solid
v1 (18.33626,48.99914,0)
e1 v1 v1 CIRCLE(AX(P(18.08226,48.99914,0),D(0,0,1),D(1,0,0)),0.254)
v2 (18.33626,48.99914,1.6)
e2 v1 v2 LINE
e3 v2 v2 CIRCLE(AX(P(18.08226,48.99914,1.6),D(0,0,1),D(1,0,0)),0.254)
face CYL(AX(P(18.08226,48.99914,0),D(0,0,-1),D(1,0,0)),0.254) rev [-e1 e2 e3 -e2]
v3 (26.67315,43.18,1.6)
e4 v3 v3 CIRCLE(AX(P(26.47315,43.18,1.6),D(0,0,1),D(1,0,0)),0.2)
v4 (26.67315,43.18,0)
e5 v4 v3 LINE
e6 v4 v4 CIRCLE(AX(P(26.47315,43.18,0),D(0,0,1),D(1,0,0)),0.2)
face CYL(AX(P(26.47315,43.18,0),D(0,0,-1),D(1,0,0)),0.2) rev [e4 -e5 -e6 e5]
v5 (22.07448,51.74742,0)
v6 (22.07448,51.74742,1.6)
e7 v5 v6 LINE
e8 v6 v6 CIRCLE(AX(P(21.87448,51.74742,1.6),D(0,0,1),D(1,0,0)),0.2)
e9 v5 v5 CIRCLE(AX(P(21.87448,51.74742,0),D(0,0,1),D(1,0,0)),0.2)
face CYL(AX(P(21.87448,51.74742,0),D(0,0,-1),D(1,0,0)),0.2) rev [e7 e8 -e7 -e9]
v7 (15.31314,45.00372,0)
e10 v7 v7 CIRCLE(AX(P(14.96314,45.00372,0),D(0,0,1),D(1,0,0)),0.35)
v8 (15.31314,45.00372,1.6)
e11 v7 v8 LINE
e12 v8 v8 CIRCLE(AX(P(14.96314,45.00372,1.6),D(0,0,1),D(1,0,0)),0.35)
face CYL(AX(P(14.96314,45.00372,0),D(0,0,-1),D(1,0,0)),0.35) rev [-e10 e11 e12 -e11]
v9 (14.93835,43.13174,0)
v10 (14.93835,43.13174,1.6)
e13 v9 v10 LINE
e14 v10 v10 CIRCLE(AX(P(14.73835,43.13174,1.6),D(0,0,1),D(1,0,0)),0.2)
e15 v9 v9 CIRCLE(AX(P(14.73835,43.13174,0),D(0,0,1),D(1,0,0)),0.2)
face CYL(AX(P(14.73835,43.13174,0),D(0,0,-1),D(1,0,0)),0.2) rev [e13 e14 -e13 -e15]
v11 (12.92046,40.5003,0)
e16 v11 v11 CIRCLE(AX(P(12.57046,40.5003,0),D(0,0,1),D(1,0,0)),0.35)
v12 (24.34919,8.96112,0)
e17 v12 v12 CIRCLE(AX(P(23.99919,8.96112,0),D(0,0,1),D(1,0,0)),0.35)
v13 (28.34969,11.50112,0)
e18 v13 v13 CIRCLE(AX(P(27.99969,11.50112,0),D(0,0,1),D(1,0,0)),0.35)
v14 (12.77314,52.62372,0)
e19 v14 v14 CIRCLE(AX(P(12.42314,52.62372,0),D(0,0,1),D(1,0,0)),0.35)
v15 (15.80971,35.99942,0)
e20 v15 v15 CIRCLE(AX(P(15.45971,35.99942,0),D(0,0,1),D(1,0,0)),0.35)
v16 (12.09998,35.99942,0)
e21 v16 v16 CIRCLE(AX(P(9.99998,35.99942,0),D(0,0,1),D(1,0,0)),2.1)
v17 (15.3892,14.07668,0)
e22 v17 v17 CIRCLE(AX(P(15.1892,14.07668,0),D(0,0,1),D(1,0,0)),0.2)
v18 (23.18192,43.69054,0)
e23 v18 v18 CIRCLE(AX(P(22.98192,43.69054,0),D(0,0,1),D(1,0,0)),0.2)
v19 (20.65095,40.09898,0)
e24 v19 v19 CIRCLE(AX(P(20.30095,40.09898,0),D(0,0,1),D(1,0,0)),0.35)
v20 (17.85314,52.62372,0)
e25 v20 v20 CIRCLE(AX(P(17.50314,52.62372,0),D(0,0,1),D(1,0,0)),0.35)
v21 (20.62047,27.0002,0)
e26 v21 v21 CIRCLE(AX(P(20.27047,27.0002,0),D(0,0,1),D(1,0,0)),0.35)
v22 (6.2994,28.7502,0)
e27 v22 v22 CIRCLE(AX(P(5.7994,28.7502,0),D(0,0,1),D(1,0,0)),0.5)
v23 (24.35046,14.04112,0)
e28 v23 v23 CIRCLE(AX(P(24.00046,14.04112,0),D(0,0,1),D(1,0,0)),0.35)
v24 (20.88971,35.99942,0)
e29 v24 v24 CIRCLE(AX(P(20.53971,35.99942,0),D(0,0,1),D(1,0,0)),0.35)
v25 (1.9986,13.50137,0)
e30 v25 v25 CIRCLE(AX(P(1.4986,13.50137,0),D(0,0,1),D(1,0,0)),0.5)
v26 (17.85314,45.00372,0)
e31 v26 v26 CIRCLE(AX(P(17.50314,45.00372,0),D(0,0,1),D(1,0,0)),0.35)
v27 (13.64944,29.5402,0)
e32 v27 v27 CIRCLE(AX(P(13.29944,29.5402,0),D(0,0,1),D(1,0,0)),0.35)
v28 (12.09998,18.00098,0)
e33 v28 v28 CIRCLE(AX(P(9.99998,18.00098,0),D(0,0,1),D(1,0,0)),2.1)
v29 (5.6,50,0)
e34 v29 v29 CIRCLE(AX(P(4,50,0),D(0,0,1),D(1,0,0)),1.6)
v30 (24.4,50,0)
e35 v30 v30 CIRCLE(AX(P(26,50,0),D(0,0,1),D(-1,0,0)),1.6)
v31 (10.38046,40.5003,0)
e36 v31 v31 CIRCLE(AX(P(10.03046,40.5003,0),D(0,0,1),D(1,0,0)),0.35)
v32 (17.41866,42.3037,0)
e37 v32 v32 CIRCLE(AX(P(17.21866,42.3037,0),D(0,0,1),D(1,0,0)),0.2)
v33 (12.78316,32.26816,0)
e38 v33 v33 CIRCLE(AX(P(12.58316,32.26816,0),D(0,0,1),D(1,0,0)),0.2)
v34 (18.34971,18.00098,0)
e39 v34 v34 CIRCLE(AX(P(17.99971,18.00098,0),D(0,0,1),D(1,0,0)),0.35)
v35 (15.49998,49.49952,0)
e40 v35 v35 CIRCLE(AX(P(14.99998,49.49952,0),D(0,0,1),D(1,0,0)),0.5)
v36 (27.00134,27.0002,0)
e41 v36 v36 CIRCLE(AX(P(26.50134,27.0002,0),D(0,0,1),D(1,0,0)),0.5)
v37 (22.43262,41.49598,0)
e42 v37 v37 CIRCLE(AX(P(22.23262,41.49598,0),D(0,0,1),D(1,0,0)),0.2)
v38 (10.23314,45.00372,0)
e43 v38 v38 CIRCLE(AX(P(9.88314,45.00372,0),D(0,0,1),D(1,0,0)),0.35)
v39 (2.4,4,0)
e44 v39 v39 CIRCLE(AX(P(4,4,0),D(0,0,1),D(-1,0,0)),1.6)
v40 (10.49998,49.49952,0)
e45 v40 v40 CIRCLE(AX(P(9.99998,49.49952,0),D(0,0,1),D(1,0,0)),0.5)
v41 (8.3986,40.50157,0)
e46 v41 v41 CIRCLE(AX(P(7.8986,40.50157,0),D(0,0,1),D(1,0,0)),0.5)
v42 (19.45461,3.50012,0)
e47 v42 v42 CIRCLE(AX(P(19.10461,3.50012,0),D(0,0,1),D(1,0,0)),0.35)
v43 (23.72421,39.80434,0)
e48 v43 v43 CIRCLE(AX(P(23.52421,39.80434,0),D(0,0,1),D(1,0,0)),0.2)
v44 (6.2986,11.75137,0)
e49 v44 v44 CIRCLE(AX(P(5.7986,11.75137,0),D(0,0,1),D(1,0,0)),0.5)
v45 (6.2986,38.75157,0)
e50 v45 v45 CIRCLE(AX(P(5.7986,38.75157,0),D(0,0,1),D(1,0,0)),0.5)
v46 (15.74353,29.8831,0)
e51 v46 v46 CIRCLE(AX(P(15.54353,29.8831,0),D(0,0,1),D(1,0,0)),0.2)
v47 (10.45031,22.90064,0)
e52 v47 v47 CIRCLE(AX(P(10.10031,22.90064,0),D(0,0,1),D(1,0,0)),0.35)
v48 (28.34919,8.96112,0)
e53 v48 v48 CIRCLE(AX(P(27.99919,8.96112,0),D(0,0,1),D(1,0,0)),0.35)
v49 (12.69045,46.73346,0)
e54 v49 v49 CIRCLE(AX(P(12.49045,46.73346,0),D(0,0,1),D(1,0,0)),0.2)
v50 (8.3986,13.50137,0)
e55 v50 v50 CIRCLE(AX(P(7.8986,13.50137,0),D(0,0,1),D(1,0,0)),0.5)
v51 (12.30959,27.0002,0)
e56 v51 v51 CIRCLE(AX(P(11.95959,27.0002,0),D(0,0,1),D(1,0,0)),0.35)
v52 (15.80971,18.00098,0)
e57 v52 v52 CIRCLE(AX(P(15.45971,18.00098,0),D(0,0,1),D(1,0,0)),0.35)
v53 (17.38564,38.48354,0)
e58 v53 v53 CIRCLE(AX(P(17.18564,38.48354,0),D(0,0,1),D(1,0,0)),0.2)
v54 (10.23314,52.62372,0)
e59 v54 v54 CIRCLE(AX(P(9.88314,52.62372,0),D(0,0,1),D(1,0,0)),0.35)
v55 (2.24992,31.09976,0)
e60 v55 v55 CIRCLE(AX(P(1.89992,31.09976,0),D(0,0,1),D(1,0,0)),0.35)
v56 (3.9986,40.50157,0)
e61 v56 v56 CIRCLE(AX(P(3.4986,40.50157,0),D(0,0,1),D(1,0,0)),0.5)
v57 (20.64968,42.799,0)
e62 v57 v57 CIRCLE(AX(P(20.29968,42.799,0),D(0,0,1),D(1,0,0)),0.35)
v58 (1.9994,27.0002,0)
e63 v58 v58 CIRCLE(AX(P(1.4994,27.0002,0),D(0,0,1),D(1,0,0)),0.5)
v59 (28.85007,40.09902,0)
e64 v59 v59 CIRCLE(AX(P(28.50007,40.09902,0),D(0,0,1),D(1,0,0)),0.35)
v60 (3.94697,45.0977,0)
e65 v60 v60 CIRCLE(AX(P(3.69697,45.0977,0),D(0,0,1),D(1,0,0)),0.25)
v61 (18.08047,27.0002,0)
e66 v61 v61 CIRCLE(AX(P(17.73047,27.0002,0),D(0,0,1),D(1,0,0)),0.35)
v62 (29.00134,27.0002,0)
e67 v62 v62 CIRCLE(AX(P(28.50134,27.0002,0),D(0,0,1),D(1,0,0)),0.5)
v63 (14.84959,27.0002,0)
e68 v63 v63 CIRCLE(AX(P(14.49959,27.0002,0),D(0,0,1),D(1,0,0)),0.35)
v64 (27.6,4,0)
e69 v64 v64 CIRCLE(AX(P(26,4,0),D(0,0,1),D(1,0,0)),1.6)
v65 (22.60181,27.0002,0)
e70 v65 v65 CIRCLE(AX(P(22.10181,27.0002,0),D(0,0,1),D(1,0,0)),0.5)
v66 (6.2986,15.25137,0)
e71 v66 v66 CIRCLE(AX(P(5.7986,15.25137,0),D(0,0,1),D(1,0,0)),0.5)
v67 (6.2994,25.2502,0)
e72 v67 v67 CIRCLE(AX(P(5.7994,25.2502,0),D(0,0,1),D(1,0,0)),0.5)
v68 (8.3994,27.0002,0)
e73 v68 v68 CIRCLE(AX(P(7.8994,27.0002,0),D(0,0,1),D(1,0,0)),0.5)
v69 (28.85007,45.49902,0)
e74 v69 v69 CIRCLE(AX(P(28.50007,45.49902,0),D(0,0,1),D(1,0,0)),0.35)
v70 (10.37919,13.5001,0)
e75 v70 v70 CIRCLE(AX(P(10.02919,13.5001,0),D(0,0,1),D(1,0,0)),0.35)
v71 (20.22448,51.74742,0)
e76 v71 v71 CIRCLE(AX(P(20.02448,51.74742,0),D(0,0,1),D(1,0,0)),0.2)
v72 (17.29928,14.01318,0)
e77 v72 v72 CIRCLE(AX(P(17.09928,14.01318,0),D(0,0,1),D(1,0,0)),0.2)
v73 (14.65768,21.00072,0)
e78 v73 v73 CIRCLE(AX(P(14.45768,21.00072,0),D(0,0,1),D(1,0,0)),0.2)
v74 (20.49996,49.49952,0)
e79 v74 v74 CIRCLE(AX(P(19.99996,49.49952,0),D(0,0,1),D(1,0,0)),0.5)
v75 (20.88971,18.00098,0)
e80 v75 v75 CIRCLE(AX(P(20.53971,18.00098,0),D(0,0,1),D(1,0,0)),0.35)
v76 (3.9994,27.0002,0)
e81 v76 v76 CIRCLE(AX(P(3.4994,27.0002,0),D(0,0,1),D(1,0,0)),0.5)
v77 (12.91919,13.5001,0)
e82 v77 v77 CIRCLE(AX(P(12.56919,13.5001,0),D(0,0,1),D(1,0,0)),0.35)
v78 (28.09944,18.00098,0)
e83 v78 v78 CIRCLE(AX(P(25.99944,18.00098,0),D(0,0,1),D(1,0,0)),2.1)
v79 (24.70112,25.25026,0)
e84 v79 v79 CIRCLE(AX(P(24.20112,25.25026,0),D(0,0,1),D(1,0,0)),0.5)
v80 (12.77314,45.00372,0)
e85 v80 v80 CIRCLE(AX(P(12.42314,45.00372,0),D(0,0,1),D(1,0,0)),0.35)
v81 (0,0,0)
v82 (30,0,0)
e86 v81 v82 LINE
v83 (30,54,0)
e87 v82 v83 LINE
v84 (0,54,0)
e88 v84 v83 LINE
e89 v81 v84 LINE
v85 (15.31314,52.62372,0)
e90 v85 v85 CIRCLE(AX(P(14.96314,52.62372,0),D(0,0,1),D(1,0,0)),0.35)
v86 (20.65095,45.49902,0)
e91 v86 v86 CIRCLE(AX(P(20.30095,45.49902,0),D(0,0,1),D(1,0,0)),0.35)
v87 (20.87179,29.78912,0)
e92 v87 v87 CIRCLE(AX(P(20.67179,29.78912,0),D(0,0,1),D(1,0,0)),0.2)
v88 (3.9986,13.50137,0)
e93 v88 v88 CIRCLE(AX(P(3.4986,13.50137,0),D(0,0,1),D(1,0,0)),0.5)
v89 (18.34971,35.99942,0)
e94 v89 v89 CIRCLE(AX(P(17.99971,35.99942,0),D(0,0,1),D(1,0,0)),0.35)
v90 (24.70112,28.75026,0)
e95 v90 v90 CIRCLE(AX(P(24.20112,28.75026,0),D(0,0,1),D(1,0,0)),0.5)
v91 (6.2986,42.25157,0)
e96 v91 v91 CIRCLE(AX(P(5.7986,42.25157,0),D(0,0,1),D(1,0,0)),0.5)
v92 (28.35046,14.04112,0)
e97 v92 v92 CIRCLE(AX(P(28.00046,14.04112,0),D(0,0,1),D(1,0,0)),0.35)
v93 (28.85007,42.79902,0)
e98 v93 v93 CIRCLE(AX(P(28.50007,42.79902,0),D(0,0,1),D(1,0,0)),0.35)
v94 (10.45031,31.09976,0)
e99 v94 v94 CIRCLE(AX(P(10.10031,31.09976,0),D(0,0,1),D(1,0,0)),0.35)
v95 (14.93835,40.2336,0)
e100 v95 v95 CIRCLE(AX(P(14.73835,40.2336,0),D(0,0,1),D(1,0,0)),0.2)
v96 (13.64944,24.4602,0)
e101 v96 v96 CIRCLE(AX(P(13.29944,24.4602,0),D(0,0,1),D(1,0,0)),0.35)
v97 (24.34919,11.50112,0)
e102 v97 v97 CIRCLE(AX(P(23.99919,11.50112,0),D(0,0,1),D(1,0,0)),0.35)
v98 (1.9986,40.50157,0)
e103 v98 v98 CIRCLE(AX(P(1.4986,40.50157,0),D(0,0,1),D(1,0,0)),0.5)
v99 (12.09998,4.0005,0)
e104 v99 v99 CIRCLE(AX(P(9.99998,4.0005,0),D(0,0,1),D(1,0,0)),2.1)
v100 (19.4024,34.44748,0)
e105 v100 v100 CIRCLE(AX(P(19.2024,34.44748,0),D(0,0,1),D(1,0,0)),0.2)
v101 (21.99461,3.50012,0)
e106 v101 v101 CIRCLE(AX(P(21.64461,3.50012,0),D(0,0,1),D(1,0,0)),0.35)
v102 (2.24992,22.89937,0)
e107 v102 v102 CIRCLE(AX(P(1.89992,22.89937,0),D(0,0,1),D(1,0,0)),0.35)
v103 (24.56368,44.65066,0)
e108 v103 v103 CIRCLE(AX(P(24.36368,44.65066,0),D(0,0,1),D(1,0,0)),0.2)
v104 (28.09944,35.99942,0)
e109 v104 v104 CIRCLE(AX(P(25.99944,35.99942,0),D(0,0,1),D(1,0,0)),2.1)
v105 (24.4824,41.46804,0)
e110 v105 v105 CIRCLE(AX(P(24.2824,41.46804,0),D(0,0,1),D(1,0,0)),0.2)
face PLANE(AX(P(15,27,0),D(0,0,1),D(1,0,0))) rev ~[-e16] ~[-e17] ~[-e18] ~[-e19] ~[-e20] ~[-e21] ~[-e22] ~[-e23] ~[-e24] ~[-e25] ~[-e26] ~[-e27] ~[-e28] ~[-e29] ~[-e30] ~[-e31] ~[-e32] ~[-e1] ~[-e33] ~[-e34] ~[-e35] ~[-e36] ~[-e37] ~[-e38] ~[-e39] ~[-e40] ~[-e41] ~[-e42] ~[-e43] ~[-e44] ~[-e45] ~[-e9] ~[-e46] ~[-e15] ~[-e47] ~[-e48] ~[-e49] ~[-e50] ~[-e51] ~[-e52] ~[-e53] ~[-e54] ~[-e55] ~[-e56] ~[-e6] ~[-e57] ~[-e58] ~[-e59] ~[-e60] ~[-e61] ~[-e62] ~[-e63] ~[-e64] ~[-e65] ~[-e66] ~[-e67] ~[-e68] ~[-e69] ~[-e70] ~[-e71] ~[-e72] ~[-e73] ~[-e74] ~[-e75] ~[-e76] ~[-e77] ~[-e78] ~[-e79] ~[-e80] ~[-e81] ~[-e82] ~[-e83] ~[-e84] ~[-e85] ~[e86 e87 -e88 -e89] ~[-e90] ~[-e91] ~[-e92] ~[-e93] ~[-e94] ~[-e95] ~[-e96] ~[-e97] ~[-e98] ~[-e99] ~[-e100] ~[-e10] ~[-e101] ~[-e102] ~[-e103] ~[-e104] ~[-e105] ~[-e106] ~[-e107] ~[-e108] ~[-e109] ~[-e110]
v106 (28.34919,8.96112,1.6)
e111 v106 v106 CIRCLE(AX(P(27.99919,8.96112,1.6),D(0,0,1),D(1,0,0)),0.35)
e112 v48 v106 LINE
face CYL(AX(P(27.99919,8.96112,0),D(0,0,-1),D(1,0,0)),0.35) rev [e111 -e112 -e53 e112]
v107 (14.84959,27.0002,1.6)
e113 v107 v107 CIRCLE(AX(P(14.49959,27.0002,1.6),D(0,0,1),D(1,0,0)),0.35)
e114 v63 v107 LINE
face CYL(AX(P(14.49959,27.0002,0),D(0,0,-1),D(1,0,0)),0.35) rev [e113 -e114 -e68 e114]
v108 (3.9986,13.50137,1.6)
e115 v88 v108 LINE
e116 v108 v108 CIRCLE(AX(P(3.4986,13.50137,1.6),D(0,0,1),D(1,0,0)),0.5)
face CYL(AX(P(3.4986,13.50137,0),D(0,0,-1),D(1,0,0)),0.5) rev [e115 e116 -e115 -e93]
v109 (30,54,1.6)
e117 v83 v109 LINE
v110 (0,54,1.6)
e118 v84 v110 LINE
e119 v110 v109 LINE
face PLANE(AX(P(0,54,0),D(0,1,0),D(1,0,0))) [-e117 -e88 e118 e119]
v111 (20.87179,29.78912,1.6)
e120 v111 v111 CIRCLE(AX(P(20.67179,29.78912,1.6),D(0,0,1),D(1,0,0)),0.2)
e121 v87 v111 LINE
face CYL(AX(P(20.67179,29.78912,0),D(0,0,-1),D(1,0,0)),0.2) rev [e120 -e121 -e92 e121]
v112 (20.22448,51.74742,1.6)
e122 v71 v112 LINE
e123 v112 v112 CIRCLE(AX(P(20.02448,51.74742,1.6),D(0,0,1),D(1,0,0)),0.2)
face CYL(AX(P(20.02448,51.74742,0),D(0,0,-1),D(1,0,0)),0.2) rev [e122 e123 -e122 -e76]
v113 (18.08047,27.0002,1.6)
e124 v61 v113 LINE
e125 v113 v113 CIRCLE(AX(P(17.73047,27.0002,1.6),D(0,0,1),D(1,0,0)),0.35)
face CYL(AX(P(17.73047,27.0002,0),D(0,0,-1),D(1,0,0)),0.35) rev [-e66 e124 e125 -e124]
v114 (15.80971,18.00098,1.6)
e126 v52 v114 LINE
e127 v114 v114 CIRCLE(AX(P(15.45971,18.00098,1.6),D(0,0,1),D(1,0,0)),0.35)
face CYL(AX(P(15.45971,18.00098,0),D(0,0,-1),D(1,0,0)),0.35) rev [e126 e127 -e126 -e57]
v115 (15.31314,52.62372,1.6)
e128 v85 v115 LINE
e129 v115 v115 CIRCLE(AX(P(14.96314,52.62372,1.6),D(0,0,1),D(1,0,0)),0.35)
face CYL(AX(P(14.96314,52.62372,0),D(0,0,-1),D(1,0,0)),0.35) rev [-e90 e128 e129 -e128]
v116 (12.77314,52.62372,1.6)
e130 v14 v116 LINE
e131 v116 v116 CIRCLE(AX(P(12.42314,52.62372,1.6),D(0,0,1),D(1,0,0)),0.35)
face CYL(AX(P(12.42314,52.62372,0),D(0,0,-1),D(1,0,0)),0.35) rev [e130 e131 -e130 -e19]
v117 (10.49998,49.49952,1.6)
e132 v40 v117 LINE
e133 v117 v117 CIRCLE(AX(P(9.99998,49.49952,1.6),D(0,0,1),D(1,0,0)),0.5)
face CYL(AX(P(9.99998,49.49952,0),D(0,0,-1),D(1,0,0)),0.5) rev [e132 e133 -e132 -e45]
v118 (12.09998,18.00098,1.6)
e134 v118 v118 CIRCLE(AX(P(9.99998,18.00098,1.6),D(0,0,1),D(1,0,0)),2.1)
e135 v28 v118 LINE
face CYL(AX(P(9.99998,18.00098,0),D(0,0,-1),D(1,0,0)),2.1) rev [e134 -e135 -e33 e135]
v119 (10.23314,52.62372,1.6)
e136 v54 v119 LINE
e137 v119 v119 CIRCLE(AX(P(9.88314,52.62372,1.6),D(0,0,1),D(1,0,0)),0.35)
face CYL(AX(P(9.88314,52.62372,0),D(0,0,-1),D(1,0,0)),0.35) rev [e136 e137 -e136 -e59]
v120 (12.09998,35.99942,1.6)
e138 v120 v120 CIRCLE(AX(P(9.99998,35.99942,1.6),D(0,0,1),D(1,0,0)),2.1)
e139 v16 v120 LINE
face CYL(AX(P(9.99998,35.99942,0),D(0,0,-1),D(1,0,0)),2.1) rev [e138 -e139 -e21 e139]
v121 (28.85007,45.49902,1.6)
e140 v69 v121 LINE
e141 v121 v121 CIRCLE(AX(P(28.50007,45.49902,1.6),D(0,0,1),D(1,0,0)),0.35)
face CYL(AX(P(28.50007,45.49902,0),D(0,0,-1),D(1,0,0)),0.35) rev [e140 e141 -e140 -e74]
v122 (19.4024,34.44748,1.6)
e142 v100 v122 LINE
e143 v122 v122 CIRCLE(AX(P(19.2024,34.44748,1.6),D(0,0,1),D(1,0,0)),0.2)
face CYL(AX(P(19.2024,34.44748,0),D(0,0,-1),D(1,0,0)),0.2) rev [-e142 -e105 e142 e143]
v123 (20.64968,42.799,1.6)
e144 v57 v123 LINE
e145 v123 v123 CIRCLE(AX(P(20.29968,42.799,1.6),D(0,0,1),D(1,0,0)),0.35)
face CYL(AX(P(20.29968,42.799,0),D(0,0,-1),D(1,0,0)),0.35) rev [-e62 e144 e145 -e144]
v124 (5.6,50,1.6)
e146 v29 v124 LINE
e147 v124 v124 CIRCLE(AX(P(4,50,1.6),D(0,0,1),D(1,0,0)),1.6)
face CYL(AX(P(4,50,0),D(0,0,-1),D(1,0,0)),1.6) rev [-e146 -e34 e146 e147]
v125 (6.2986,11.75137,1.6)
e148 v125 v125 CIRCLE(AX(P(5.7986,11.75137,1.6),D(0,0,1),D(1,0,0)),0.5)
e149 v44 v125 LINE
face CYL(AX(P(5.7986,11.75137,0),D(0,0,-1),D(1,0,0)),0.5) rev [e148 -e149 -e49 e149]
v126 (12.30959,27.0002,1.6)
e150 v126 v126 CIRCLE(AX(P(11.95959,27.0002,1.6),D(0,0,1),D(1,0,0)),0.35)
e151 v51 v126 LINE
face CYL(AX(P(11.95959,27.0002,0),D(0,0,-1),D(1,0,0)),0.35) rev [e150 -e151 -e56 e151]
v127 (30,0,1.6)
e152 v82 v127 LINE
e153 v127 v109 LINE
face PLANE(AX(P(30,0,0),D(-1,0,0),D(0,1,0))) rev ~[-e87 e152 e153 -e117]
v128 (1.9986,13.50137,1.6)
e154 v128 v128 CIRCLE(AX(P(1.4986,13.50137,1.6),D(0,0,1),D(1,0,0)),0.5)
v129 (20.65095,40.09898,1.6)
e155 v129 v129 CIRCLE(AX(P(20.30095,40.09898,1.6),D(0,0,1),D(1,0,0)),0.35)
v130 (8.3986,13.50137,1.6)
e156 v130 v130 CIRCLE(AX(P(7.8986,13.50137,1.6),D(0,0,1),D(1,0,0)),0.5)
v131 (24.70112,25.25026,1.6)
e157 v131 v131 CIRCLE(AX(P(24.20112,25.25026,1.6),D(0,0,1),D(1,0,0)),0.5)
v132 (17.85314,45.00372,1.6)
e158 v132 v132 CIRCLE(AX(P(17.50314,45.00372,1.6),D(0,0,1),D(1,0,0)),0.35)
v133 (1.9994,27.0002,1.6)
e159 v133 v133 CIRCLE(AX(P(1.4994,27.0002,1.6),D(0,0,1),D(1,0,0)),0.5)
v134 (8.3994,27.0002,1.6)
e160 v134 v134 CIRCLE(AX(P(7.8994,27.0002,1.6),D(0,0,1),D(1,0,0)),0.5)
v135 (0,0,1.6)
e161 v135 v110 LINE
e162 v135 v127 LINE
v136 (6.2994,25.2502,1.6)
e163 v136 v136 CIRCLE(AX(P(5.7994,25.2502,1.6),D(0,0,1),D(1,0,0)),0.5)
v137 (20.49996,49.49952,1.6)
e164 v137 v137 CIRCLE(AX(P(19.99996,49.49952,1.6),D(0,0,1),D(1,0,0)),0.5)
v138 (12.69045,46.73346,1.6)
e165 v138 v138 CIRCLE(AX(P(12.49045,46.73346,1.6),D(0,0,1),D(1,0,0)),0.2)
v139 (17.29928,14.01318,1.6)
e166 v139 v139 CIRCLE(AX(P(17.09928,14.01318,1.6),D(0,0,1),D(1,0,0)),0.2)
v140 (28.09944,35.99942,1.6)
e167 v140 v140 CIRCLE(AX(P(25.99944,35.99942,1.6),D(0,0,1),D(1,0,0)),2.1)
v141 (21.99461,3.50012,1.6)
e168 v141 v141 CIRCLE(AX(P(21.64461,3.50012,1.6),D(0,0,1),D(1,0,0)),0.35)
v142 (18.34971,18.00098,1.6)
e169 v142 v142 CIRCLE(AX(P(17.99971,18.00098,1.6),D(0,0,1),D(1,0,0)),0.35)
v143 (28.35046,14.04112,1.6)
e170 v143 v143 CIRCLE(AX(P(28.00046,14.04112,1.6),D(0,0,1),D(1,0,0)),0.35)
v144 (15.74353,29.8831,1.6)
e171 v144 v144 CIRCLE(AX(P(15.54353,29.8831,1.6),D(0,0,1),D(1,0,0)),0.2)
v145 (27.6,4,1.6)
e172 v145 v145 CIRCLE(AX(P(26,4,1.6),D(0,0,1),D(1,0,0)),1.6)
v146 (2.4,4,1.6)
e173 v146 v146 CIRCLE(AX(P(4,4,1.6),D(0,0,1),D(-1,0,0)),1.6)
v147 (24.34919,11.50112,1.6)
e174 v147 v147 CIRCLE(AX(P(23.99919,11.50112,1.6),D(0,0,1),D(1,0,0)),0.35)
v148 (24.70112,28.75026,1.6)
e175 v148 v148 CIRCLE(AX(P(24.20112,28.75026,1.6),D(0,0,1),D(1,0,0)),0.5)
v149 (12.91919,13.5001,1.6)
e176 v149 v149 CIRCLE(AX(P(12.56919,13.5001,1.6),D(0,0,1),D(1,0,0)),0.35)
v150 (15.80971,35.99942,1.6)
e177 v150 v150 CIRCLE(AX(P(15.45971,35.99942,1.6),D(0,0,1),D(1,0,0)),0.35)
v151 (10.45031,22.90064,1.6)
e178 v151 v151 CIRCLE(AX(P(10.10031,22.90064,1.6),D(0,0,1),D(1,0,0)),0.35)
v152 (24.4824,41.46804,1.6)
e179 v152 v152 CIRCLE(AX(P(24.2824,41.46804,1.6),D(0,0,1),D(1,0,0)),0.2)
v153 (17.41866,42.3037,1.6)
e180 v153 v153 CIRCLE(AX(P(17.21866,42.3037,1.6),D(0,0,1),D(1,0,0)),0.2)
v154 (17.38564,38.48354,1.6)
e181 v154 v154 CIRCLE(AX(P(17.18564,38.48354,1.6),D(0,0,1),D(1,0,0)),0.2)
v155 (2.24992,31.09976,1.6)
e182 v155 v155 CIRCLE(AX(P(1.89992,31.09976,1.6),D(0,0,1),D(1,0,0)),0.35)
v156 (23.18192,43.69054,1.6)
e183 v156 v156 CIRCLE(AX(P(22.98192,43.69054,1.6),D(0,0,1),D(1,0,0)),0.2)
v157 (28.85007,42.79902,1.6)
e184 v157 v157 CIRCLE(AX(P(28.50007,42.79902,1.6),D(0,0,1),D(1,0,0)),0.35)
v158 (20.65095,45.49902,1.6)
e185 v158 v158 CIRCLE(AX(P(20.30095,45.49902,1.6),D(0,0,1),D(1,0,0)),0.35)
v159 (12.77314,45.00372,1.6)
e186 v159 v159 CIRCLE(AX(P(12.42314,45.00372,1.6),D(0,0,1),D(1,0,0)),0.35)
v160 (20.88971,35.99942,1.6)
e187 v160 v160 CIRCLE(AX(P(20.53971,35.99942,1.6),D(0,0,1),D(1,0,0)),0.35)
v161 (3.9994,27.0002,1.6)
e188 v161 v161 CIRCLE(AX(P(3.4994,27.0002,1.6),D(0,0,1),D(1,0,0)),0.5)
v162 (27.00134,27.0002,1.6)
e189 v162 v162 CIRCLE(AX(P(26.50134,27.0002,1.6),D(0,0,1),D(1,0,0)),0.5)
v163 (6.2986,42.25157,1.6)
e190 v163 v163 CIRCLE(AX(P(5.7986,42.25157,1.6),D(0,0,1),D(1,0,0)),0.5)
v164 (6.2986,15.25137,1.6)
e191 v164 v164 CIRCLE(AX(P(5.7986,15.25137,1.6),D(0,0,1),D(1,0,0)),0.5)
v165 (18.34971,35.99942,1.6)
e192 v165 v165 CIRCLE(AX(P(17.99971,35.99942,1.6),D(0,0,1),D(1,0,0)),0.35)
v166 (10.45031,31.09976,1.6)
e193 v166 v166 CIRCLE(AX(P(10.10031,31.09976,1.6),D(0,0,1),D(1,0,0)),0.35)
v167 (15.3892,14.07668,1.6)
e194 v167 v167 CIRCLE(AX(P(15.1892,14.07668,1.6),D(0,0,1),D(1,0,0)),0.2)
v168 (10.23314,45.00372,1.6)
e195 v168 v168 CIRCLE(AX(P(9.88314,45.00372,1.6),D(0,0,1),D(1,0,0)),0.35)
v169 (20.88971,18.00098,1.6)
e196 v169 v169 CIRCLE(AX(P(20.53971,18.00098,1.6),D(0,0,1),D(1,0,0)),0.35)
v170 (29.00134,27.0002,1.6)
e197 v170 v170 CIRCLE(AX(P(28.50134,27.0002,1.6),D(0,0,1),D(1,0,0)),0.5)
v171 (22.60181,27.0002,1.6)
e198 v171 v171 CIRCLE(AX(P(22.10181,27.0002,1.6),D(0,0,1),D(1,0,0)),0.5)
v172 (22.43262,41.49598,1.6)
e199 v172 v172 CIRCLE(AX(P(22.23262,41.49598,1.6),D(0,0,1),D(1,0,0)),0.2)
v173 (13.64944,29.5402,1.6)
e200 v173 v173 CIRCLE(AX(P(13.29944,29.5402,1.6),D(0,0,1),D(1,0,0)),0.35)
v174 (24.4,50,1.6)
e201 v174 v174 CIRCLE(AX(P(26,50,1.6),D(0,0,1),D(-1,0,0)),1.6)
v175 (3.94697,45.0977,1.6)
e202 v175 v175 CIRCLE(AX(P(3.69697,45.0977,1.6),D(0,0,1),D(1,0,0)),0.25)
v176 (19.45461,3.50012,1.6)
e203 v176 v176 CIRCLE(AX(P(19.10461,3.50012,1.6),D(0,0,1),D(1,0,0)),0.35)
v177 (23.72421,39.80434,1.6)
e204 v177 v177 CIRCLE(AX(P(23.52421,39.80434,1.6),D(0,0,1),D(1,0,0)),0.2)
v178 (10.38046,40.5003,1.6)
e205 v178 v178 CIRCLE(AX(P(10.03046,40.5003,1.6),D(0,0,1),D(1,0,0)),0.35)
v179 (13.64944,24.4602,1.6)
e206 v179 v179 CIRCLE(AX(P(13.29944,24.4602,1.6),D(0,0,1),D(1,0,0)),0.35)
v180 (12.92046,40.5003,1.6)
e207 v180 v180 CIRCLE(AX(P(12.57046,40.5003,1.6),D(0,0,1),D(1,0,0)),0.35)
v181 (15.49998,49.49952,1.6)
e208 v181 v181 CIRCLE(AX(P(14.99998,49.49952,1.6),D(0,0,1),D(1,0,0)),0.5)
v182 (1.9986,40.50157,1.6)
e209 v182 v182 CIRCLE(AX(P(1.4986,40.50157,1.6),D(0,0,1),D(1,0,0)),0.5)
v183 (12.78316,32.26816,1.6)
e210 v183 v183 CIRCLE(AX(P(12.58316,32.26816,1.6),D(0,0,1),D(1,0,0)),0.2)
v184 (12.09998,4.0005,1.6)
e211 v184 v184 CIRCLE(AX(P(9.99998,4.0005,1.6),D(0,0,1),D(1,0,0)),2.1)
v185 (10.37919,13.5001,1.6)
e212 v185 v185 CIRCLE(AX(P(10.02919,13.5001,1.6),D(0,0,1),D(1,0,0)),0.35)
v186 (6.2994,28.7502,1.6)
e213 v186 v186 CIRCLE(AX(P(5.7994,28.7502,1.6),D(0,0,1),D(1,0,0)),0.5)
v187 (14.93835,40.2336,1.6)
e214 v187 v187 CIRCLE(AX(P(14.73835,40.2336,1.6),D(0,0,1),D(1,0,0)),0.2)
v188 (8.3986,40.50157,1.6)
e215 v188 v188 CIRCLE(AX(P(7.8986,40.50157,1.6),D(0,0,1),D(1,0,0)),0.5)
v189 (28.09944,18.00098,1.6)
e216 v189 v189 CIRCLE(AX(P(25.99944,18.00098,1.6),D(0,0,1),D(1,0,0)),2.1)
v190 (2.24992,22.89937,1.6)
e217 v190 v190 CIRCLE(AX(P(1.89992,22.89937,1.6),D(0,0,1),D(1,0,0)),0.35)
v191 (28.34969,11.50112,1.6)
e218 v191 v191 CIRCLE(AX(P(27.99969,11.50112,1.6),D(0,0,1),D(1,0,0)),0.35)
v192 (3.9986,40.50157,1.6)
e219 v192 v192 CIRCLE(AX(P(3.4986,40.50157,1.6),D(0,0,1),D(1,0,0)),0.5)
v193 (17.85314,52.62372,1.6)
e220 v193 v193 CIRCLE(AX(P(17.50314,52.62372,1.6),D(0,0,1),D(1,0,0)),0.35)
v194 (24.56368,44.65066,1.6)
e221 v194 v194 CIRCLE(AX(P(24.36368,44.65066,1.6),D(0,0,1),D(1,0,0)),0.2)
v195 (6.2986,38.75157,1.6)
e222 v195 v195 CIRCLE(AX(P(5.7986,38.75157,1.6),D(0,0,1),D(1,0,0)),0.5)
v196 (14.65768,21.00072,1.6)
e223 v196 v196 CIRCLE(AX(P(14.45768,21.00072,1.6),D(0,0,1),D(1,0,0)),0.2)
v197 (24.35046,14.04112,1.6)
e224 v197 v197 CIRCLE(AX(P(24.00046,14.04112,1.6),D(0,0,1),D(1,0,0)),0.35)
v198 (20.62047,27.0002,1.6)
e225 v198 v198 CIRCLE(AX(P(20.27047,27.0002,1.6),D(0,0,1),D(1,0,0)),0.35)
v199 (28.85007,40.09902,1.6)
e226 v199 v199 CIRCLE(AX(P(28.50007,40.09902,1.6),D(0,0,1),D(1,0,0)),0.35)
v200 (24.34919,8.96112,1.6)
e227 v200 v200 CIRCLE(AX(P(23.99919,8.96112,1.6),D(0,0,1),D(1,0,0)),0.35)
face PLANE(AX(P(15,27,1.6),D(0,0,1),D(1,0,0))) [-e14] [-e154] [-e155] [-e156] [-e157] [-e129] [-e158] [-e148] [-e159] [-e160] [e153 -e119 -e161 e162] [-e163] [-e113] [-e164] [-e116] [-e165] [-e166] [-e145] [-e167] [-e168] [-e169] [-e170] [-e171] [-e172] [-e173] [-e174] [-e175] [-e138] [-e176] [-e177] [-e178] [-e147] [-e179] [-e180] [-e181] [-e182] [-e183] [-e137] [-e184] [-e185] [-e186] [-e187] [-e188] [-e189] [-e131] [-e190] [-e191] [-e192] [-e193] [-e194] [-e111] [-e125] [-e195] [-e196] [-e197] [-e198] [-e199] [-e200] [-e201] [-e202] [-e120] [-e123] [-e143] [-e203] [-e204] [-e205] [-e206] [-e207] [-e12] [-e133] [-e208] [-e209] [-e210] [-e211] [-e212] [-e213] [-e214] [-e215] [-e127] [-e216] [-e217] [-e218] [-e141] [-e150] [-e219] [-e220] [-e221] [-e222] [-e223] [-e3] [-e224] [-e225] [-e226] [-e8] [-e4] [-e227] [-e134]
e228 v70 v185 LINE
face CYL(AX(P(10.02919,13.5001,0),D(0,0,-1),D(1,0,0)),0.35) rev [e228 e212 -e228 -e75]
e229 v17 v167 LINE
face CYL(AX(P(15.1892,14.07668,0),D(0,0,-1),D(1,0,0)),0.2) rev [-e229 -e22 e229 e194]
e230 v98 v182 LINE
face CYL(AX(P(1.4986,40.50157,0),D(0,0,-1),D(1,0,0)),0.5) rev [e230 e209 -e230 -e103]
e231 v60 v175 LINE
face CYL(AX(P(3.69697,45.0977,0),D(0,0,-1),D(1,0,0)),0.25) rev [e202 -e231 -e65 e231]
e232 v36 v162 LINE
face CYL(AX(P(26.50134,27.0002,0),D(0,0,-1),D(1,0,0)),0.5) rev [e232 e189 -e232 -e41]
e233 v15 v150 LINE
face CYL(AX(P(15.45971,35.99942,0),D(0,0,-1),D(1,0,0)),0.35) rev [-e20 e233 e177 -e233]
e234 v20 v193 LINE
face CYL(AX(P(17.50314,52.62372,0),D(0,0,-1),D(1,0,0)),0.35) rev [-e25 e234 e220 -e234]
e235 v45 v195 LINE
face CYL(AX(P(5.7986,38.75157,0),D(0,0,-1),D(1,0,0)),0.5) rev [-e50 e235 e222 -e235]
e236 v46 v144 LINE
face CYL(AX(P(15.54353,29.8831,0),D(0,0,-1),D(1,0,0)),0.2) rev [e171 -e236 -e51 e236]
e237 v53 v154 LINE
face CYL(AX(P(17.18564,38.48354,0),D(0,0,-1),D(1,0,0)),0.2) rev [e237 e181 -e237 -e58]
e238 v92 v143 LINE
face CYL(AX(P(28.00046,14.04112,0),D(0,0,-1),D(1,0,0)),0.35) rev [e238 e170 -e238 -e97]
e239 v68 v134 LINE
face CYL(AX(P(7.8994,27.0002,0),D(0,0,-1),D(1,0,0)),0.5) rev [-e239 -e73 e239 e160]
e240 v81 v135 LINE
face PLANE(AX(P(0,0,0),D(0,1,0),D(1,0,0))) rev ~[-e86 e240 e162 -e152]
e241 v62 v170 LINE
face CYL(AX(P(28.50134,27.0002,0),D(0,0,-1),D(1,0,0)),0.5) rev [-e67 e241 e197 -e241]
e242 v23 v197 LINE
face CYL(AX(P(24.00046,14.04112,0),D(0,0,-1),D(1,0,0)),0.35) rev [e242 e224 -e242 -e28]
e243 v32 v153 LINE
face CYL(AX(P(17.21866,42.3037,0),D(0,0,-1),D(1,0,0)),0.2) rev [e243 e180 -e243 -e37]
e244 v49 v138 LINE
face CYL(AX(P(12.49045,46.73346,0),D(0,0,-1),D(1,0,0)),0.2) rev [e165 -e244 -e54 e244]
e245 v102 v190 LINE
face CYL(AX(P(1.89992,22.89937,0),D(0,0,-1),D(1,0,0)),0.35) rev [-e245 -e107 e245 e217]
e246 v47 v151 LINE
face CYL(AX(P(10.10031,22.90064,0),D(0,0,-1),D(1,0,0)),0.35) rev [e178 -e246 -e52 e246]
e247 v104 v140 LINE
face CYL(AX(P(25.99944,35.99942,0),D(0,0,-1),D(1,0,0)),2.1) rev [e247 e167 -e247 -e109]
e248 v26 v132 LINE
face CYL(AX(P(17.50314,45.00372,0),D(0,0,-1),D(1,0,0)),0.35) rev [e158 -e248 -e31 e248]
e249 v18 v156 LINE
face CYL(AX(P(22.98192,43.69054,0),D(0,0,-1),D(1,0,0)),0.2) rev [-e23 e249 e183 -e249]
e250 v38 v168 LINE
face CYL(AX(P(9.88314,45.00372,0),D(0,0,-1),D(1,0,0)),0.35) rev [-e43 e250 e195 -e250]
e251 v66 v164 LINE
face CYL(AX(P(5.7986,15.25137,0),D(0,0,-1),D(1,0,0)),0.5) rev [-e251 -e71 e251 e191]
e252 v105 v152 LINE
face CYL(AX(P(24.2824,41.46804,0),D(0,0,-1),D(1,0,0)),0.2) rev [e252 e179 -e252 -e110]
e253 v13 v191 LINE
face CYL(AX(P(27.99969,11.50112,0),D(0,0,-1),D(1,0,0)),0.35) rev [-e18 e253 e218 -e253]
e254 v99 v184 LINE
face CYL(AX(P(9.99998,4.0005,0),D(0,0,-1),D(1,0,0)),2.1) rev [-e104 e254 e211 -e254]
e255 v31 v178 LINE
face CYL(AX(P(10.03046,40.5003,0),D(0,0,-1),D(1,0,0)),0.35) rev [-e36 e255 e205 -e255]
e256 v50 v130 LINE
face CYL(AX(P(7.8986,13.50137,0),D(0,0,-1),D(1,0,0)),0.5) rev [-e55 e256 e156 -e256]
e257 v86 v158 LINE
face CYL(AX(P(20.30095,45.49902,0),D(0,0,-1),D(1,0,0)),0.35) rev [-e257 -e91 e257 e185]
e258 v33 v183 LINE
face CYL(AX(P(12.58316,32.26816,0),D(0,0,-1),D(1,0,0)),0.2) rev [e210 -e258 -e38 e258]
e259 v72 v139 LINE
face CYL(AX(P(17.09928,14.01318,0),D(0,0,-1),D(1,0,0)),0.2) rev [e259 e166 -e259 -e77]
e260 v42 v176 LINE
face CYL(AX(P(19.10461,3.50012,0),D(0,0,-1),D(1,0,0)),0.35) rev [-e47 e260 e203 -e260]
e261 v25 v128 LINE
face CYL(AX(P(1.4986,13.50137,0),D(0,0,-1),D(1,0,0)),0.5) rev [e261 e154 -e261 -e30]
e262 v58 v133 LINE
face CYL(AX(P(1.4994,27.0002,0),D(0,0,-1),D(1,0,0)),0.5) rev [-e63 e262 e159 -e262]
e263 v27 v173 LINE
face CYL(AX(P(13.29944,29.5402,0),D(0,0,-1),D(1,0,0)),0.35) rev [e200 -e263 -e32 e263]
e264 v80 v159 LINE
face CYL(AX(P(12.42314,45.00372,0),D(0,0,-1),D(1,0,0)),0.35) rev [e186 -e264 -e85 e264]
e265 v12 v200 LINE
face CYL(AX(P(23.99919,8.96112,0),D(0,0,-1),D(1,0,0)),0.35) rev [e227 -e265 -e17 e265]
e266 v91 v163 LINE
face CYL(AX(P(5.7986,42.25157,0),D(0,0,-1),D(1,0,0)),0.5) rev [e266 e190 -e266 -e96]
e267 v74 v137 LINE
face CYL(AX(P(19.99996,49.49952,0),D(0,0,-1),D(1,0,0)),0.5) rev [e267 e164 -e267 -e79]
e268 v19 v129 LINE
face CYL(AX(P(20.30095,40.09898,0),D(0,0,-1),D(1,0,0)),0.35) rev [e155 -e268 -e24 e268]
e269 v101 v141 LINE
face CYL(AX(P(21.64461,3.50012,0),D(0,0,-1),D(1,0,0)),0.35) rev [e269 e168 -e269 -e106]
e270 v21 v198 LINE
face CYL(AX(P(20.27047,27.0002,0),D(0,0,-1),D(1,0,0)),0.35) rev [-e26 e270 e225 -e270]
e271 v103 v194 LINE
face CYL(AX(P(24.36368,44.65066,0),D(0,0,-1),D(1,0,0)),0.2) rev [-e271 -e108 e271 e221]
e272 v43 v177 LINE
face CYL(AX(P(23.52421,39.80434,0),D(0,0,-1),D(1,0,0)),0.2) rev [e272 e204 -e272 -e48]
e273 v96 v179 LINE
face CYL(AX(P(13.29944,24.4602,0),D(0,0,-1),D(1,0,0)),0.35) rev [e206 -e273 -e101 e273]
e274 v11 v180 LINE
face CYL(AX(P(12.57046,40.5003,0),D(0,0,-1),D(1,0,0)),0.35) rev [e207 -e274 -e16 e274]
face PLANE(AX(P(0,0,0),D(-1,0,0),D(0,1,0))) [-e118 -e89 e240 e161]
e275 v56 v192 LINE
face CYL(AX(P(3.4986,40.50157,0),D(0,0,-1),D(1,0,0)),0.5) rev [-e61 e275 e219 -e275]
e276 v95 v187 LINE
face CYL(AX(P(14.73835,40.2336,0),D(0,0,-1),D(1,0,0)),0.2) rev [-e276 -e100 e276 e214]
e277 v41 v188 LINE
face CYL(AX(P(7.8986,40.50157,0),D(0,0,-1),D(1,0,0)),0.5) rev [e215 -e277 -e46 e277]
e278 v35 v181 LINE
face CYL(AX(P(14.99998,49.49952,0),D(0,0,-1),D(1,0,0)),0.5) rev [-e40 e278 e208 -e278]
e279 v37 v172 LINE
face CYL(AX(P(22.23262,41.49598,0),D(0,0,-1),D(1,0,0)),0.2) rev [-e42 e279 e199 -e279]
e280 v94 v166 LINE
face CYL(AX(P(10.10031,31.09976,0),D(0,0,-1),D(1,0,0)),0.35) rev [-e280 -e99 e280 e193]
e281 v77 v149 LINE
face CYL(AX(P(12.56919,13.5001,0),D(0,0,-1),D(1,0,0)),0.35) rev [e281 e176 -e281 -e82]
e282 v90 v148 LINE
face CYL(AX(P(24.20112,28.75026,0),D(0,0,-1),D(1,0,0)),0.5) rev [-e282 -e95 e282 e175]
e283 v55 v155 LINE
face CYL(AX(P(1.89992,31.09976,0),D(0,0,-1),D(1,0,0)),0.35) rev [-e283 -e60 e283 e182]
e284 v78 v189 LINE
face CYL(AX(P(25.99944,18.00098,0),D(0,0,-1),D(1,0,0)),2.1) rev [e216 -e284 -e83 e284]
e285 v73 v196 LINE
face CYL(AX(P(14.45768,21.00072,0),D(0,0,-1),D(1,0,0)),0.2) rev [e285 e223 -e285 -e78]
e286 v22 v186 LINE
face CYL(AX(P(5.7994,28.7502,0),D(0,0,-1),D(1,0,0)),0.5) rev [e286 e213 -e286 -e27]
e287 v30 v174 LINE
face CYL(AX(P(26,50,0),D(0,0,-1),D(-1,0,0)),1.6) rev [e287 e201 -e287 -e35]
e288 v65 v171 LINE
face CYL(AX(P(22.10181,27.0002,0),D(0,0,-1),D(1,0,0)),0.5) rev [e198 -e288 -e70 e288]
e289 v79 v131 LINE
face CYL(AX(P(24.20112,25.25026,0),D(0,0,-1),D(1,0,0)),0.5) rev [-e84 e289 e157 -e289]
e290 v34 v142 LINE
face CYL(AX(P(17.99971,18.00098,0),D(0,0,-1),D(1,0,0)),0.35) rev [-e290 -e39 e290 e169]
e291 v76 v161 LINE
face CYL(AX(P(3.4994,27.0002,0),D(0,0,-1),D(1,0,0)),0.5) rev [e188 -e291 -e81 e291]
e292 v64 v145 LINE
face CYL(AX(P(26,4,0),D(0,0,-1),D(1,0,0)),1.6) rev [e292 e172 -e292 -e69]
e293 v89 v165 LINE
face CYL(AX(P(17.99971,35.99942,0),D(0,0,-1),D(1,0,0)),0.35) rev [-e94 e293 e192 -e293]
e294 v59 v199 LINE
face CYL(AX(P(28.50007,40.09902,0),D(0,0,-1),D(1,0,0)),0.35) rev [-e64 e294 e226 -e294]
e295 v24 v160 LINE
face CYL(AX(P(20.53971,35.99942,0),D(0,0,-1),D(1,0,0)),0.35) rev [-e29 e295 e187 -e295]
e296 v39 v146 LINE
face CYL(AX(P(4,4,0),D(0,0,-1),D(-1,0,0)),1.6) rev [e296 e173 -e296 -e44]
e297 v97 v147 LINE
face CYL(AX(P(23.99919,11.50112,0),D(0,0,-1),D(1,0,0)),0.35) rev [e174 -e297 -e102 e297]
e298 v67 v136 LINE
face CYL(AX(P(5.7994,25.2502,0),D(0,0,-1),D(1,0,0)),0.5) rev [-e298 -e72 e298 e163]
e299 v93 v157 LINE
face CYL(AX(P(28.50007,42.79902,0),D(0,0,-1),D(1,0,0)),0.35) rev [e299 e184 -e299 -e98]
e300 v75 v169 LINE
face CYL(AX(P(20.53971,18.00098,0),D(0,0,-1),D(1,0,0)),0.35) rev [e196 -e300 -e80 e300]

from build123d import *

# Parameters (mm, degrees)
MODEL_W            = 30
MODEL_H            = 54
MODEL_R            = 2.1
MODEL_R_2          = 0.35
MODEL_R_3          = 0.2
MODEL_R_4          = 0.5
MODEL_R_5          = 0.25
MODEL_R_6          = 0.254
MODEL_R_7          = 1.6
BOSS_EXTRU_1_DEPTH = 1.6


with BuildPart() as part:
    # Model → Boss.-Extru.1 (new body)
    with BuildSketch(Plane.XY):
        with Locations((15, 27)):
            Rectangle(MODEL_W, MODEL_H)
        with Locations((9.99998, 4.0005)):
            Circle(MODEL_R, mode=Mode.SUBTRACT)
        with Locations((9.99998, 18.00098)):
            Circle(MODEL_R, mode=Mode.SUBTRACT)
        with Locations((25.99944, 18.00098)):
            Circle(MODEL_R, mode=Mode.SUBTRACT)
        with Locations((9.99998, 35.99942)):
            Circle(MODEL_R, mode=Mode.SUBTRACT)
        with Locations((25.99944, 35.99942)):
            Circle(MODEL_R, mode=Mode.SUBTRACT)
        with Locations((10.10031, 22.90064)):
            Circle(MODEL_R_2, mode=Mode.SUBTRACT)
        with Locations((19.2024, 34.44748)):
            Circle(MODEL_R_3, mode=Mode.SUBTRACT)
        with Locations((23.99919, 8.96112)):
            Circle(MODEL_R_2, mode=Mode.SUBTRACT)
        with Locations((28.00046, 14.04112)):
            Circle(MODEL_R_2, mode=Mode.SUBTRACT)
        with Locations((27.99919, 8.96112)):
            Circle(MODEL_R_2, mode=Mode.SUBTRACT)
        with Locations((7.8994, 27.0002)):
            Circle(MODEL_R_4, mode=Mode.SUBTRACT)
        with Locations((12.57046, 40.5003)):
            Circle(MODEL_R_2, mode=Mode.SUBTRACT)
        with Locations((21.64461, 3.50012)):
            Circle(MODEL_R_2, mode=Mode.SUBTRACT)
        with Locations((19.10461, 3.50012)):
            Circle(MODEL_R_2, mode=Mode.SUBTRACT)
        with Locations((17.99971, 18.00098)):
            Circle(MODEL_R_2, mode=Mode.SUBTRACT)
        with Locations((15.45971, 18.00098)):
            Circle(MODEL_R_2, mode=Mode.SUBTRACT)
        with Locations((26.50134, 27.0002)):
            Circle(MODEL_R_4, mode=Mode.SUBTRACT)
        with Locations((24.20112, 25.25026)):
            Circle(MODEL_R_4, mode=Mode.SUBTRACT)
        with Locations((20.27047, 27.0002)):
            Circle(MODEL_R_2, mode=Mode.SUBTRACT)
        with Locations((12.58316, 32.26816)):
            Circle(MODEL_R_3, mode=Mode.SUBTRACT)
        with Locations((10.02919, 13.5001)):
            Circle(MODEL_R_2, mode=Mode.SUBTRACT)
        with Locations((1.4986, 13.50137)):
            Circle(MODEL_R_4, mode=Mode.SUBTRACT)
        with Locations((3.4986, 13.50137)):
            Circle(MODEL_R_4, mode=Mode.SUBTRACT)
        with Locations((7.8986, 13.50137)):
            Circle(MODEL_R_4, mode=Mode.SUBTRACT)
        with Locations((5.7986, 11.75137)):
            Circle(MODEL_R_4, mode=Mode.SUBTRACT)
        with Locations((5.7986, 15.25137)):
            Circle(MODEL_R_4, mode=Mode.SUBTRACT)
        with Locations((10.10031, 31.09976)):
            Circle(MODEL_R_2, mode=Mode.SUBTRACT)
        with Locations((17.18564, 38.48354)):
            Circle(MODEL_R_3, mode=Mode.SUBTRACT)
        with Locations((1.89992, 22.89937)):
            Circle(MODEL_R_2, mode=Mode.SUBTRACT)
        with Locations((10.03046, 40.5003)):
            Circle(MODEL_R_2, mode=Mode.SUBTRACT)
        with Locations((1.89992, 31.09976)):
            Circle(MODEL_R_2, mode=Mode.SUBTRACT)
        with Locations((1.4994, 27.0002)):
            Circle(MODEL_R_4, mode=Mode.SUBTRACT)
        with Locations((3.4994, 27.0002)):
            Circle(MODEL_R_4, mode=Mode.SUBTRACT)
        with Locations((5.7994, 25.2502)):
            Circle(MODEL_R_4, mode=Mode.SUBTRACT)
        with Locations((5.7994, 28.7502)):
            Circle(MODEL_R_4, mode=Mode.SUBTRACT)
        with Locations((11.95959, 27.0002)):
            Circle(MODEL_R_2, mode=Mode.SUBTRACT)
        with Locations((14.49959, 27.0002)):
            Circle(MODEL_R_2, mode=Mode.SUBTRACT)
        with Locations((15.45971, 35.99942)):
            Circle(MODEL_R_2, mode=Mode.SUBTRACT)
        with Locations((28.50007, 42.79902)):
            Circle(MODEL_R_2, mode=Mode.SUBTRACT)
        with Locations((28.50007, 40.09902)):
            Circle(MODEL_R_2, mode=Mode.SUBTRACT)
        with Locations((12.42314, 45.00372)):
            Circle(MODEL_R_2, mode=Mode.SUBTRACT)
        with Locations((28.50007, 45.49902)):
            Circle(MODEL_R_2, mode=Mode.SUBTRACT)
        with Locations((14.96314, 45.00372)):
            Circle(MODEL_R_2, mode=Mode.SUBTRACT)
        with Locations((17.50314, 45.00372)):
            Circle(MODEL_R_2, mode=Mode.SUBTRACT)
        with Locations((14.96314, 52.62372)):
            Circle(MODEL_R_2, mode=Mode.SUBTRACT)
        with Locations((12.42314, 52.62372)):
            Circle(MODEL_R_2, mode=Mode.SUBTRACT)
        with Locations((9.88314, 52.62372)):
            Circle(MODEL_R_2, mode=Mode.SUBTRACT)
        with Locations((14.99998, 49.49952)):
            Circle(MODEL_R_4, mode=Mode.SUBTRACT)
        with Locations((24.36368, 44.65066)):
            Circle(MODEL_R_3, mode=Mode.SUBTRACT)
        with Locations((1.4986, 40.50157)):
            Circle(MODEL_R_4, mode=Mode.SUBTRACT)
        with Locations((28.50134, 27.0002)):
            Circle(MODEL_R_4, mode=Mode.SUBTRACT)
        with Locations((7.8986, 40.50157)):
            Circle(MODEL_R_4, mode=Mode.SUBTRACT)
        with Locations((3.4986, 40.50157)):
            Circle(MODEL_R_4, mode=Mode.SUBTRACT)
        with Locations((5.7986, 38.75157)):
            Circle(MODEL_R_4, mode=Mode.SUBTRACT)
        with Locations((5.7986, 42.25157)):
            Circle(MODEL_R_4, mode=Mode.SUBTRACT)
        with Locations((20.02448, 51.74742)):
            Circle(MODEL_R_3, mode=Mode.SUBTRACT)
        with Locations((13.29944, 24.4602)):
            Circle(MODEL_R_2, mode=Mode.SUBTRACT)
        with Locations((24.00046, 14.04112)):
            Circle(MODEL_R_2, mode=Mode.SUBTRACT)
        with Locations((20.30095, 45.49902)):
            Circle(MODEL_R_2, mode=Mode.SUBTRACT)
        with Locations((12.49045, 46.73346)):
            Circle(MODEL_R_3, mode=Mode.SUBTRACT)
        with Locations((3.69697, 45.0977)):
            Circle(MODEL_R_5, mode=Mode.SUBTRACT)
        with Locations((12.56919, 13.5001)):
            Circle(MODEL_R_2, mode=Mode.SUBTRACT)
        with Locations((17.21866, 42.3037)):
            Circle(MODEL_R_3, mode=Mode.SUBTRACT)
        with Locations((20.29968, 42.799)):
            Circle(MODEL_R_2, mode=Mode.SUBTRACT)
        with Locations((17.73047, 27.0002)):
            Circle(MODEL_R_2, mode=Mode.SUBTRACT)
        with Locations((15.54353, 29.8831)):
            Circle(MODEL_R_3, mode=Mode.SUBTRACT)
        with Locations((20.30095, 40.09898)):
            Circle(MODEL_R_2, mode=Mode.SUBTRACT)
        with Locations((27.99969, 11.50112)):
            Circle(MODEL_R_2, mode=Mode.SUBTRACT)
        with Locations((26.47315, 43.18)):
            Circle(MODEL_R_3, mode=Mode.SUBTRACT)
        with Locations((21.87448, 51.74742)):
            Circle(MODEL_R_3, mode=Mode.SUBTRACT)
        with Locations((17.50314, 52.62372)):
            Circle(MODEL_R_2, mode=Mode.SUBTRACT)
        with Locations((15.1892, 14.07668)):
            Circle(MODEL_R_3, mode=Mode.SUBTRACT)
        with Locations((14.45768, 21.00072)):
            Circle(MODEL_R_3, mode=Mode.SUBTRACT)
        with Locations((23.99919, 11.50112)):
            Circle(MODEL_R_2, mode=Mode.SUBTRACT)
        with Locations((17.09928, 14.01318)):
            Circle(MODEL_R_3, mode=Mode.SUBTRACT)
        with Locations((20.53971, 18.00098)):
            Circle(MODEL_R_2, mode=Mode.SUBTRACT)
        with Locations((23.52421, 39.80434)):
            Circle(MODEL_R_3, mode=Mode.SUBTRACT)
        with Locations((22.10181, 27.0002)):
            Circle(MODEL_R_4, mode=Mode.SUBTRACT)
        with Locations((18.08226, 48.99914)):
            Circle(MODEL_R_6, mode=Mode.SUBTRACT)
        with Locations((22.23262, 41.49598)):
            Circle(MODEL_R_3, mode=Mode.SUBTRACT)
        with Locations((14.73835, 40.2336)):
            Circle(MODEL_R_3, mode=Mode.SUBTRACT)
        with Locations((14.73835, 43.13174)):
            Circle(MODEL_R_3, mode=Mode.SUBTRACT)
        with Locations((9.99998, 49.49952)):
            Circle(MODEL_R_4, mode=Mode.SUBTRACT)
        with Locations((17.99971, 35.99942)):
            Circle(MODEL_R_2, mode=Mode.SUBTRACT)
        with Locations((9.88314, 45.00372)):
            Circle(MODEL_R_2, mode=Mode.SUBTRACT)
        with Locations((19.99996, 49.49952)):
            Circle(MODEL_R_4, mode=Mode.SUBTRACT)
        with Locations((24.2824, 41.46804)):
            Circle(MODEL_R_3, mode=Mode.SUBTRACT)
        with Locations((22.98192, 43.69054)):
            Circle(MODEL_R_3, mode=Mode.SUBTRACT)
        with Locations((20.67179, 29.78912)):
            Circle(MODEL_R_3, mode=Mode.SUBTRACT)
        with Locations((24.20112, 28.75026)):
            Circle(MODEL_R_4, mode=Mode.SUBTRACT)
        with Locations((13.29944, 29.5402)):
            Circle(MODEL_R_2, mode=Mode.SUBTRACT)
        with Locations((20.53971, 35.99942)):
            Circle(MODEL_R_2, mode=Mode.SUBTRACT)
        with Locations((4, 50)):
            Circle(MODEL_R_7, mode=Mode.SUBTRACT)
        with Locations(Location((26, 50, 0), (0, 0, 180))):  # turned: the seam where the file's is
            Circle(MODEL_R_7, mode=Mode.SUBTRACT)
        with Locations(Location((4, 4, 0), (0, 0, 180))):  # turned: the seam where the file's is
            Circle(MODEL_R_7, mode=Mode.SUBTRACT)
        with Locations((26, 4)):
            Circle(MODEL_R_7, mode=Mode.SUBTRACT)
    extrude(amount=BOSS_EXTRU_1_DEPTH)


solid = part.part
